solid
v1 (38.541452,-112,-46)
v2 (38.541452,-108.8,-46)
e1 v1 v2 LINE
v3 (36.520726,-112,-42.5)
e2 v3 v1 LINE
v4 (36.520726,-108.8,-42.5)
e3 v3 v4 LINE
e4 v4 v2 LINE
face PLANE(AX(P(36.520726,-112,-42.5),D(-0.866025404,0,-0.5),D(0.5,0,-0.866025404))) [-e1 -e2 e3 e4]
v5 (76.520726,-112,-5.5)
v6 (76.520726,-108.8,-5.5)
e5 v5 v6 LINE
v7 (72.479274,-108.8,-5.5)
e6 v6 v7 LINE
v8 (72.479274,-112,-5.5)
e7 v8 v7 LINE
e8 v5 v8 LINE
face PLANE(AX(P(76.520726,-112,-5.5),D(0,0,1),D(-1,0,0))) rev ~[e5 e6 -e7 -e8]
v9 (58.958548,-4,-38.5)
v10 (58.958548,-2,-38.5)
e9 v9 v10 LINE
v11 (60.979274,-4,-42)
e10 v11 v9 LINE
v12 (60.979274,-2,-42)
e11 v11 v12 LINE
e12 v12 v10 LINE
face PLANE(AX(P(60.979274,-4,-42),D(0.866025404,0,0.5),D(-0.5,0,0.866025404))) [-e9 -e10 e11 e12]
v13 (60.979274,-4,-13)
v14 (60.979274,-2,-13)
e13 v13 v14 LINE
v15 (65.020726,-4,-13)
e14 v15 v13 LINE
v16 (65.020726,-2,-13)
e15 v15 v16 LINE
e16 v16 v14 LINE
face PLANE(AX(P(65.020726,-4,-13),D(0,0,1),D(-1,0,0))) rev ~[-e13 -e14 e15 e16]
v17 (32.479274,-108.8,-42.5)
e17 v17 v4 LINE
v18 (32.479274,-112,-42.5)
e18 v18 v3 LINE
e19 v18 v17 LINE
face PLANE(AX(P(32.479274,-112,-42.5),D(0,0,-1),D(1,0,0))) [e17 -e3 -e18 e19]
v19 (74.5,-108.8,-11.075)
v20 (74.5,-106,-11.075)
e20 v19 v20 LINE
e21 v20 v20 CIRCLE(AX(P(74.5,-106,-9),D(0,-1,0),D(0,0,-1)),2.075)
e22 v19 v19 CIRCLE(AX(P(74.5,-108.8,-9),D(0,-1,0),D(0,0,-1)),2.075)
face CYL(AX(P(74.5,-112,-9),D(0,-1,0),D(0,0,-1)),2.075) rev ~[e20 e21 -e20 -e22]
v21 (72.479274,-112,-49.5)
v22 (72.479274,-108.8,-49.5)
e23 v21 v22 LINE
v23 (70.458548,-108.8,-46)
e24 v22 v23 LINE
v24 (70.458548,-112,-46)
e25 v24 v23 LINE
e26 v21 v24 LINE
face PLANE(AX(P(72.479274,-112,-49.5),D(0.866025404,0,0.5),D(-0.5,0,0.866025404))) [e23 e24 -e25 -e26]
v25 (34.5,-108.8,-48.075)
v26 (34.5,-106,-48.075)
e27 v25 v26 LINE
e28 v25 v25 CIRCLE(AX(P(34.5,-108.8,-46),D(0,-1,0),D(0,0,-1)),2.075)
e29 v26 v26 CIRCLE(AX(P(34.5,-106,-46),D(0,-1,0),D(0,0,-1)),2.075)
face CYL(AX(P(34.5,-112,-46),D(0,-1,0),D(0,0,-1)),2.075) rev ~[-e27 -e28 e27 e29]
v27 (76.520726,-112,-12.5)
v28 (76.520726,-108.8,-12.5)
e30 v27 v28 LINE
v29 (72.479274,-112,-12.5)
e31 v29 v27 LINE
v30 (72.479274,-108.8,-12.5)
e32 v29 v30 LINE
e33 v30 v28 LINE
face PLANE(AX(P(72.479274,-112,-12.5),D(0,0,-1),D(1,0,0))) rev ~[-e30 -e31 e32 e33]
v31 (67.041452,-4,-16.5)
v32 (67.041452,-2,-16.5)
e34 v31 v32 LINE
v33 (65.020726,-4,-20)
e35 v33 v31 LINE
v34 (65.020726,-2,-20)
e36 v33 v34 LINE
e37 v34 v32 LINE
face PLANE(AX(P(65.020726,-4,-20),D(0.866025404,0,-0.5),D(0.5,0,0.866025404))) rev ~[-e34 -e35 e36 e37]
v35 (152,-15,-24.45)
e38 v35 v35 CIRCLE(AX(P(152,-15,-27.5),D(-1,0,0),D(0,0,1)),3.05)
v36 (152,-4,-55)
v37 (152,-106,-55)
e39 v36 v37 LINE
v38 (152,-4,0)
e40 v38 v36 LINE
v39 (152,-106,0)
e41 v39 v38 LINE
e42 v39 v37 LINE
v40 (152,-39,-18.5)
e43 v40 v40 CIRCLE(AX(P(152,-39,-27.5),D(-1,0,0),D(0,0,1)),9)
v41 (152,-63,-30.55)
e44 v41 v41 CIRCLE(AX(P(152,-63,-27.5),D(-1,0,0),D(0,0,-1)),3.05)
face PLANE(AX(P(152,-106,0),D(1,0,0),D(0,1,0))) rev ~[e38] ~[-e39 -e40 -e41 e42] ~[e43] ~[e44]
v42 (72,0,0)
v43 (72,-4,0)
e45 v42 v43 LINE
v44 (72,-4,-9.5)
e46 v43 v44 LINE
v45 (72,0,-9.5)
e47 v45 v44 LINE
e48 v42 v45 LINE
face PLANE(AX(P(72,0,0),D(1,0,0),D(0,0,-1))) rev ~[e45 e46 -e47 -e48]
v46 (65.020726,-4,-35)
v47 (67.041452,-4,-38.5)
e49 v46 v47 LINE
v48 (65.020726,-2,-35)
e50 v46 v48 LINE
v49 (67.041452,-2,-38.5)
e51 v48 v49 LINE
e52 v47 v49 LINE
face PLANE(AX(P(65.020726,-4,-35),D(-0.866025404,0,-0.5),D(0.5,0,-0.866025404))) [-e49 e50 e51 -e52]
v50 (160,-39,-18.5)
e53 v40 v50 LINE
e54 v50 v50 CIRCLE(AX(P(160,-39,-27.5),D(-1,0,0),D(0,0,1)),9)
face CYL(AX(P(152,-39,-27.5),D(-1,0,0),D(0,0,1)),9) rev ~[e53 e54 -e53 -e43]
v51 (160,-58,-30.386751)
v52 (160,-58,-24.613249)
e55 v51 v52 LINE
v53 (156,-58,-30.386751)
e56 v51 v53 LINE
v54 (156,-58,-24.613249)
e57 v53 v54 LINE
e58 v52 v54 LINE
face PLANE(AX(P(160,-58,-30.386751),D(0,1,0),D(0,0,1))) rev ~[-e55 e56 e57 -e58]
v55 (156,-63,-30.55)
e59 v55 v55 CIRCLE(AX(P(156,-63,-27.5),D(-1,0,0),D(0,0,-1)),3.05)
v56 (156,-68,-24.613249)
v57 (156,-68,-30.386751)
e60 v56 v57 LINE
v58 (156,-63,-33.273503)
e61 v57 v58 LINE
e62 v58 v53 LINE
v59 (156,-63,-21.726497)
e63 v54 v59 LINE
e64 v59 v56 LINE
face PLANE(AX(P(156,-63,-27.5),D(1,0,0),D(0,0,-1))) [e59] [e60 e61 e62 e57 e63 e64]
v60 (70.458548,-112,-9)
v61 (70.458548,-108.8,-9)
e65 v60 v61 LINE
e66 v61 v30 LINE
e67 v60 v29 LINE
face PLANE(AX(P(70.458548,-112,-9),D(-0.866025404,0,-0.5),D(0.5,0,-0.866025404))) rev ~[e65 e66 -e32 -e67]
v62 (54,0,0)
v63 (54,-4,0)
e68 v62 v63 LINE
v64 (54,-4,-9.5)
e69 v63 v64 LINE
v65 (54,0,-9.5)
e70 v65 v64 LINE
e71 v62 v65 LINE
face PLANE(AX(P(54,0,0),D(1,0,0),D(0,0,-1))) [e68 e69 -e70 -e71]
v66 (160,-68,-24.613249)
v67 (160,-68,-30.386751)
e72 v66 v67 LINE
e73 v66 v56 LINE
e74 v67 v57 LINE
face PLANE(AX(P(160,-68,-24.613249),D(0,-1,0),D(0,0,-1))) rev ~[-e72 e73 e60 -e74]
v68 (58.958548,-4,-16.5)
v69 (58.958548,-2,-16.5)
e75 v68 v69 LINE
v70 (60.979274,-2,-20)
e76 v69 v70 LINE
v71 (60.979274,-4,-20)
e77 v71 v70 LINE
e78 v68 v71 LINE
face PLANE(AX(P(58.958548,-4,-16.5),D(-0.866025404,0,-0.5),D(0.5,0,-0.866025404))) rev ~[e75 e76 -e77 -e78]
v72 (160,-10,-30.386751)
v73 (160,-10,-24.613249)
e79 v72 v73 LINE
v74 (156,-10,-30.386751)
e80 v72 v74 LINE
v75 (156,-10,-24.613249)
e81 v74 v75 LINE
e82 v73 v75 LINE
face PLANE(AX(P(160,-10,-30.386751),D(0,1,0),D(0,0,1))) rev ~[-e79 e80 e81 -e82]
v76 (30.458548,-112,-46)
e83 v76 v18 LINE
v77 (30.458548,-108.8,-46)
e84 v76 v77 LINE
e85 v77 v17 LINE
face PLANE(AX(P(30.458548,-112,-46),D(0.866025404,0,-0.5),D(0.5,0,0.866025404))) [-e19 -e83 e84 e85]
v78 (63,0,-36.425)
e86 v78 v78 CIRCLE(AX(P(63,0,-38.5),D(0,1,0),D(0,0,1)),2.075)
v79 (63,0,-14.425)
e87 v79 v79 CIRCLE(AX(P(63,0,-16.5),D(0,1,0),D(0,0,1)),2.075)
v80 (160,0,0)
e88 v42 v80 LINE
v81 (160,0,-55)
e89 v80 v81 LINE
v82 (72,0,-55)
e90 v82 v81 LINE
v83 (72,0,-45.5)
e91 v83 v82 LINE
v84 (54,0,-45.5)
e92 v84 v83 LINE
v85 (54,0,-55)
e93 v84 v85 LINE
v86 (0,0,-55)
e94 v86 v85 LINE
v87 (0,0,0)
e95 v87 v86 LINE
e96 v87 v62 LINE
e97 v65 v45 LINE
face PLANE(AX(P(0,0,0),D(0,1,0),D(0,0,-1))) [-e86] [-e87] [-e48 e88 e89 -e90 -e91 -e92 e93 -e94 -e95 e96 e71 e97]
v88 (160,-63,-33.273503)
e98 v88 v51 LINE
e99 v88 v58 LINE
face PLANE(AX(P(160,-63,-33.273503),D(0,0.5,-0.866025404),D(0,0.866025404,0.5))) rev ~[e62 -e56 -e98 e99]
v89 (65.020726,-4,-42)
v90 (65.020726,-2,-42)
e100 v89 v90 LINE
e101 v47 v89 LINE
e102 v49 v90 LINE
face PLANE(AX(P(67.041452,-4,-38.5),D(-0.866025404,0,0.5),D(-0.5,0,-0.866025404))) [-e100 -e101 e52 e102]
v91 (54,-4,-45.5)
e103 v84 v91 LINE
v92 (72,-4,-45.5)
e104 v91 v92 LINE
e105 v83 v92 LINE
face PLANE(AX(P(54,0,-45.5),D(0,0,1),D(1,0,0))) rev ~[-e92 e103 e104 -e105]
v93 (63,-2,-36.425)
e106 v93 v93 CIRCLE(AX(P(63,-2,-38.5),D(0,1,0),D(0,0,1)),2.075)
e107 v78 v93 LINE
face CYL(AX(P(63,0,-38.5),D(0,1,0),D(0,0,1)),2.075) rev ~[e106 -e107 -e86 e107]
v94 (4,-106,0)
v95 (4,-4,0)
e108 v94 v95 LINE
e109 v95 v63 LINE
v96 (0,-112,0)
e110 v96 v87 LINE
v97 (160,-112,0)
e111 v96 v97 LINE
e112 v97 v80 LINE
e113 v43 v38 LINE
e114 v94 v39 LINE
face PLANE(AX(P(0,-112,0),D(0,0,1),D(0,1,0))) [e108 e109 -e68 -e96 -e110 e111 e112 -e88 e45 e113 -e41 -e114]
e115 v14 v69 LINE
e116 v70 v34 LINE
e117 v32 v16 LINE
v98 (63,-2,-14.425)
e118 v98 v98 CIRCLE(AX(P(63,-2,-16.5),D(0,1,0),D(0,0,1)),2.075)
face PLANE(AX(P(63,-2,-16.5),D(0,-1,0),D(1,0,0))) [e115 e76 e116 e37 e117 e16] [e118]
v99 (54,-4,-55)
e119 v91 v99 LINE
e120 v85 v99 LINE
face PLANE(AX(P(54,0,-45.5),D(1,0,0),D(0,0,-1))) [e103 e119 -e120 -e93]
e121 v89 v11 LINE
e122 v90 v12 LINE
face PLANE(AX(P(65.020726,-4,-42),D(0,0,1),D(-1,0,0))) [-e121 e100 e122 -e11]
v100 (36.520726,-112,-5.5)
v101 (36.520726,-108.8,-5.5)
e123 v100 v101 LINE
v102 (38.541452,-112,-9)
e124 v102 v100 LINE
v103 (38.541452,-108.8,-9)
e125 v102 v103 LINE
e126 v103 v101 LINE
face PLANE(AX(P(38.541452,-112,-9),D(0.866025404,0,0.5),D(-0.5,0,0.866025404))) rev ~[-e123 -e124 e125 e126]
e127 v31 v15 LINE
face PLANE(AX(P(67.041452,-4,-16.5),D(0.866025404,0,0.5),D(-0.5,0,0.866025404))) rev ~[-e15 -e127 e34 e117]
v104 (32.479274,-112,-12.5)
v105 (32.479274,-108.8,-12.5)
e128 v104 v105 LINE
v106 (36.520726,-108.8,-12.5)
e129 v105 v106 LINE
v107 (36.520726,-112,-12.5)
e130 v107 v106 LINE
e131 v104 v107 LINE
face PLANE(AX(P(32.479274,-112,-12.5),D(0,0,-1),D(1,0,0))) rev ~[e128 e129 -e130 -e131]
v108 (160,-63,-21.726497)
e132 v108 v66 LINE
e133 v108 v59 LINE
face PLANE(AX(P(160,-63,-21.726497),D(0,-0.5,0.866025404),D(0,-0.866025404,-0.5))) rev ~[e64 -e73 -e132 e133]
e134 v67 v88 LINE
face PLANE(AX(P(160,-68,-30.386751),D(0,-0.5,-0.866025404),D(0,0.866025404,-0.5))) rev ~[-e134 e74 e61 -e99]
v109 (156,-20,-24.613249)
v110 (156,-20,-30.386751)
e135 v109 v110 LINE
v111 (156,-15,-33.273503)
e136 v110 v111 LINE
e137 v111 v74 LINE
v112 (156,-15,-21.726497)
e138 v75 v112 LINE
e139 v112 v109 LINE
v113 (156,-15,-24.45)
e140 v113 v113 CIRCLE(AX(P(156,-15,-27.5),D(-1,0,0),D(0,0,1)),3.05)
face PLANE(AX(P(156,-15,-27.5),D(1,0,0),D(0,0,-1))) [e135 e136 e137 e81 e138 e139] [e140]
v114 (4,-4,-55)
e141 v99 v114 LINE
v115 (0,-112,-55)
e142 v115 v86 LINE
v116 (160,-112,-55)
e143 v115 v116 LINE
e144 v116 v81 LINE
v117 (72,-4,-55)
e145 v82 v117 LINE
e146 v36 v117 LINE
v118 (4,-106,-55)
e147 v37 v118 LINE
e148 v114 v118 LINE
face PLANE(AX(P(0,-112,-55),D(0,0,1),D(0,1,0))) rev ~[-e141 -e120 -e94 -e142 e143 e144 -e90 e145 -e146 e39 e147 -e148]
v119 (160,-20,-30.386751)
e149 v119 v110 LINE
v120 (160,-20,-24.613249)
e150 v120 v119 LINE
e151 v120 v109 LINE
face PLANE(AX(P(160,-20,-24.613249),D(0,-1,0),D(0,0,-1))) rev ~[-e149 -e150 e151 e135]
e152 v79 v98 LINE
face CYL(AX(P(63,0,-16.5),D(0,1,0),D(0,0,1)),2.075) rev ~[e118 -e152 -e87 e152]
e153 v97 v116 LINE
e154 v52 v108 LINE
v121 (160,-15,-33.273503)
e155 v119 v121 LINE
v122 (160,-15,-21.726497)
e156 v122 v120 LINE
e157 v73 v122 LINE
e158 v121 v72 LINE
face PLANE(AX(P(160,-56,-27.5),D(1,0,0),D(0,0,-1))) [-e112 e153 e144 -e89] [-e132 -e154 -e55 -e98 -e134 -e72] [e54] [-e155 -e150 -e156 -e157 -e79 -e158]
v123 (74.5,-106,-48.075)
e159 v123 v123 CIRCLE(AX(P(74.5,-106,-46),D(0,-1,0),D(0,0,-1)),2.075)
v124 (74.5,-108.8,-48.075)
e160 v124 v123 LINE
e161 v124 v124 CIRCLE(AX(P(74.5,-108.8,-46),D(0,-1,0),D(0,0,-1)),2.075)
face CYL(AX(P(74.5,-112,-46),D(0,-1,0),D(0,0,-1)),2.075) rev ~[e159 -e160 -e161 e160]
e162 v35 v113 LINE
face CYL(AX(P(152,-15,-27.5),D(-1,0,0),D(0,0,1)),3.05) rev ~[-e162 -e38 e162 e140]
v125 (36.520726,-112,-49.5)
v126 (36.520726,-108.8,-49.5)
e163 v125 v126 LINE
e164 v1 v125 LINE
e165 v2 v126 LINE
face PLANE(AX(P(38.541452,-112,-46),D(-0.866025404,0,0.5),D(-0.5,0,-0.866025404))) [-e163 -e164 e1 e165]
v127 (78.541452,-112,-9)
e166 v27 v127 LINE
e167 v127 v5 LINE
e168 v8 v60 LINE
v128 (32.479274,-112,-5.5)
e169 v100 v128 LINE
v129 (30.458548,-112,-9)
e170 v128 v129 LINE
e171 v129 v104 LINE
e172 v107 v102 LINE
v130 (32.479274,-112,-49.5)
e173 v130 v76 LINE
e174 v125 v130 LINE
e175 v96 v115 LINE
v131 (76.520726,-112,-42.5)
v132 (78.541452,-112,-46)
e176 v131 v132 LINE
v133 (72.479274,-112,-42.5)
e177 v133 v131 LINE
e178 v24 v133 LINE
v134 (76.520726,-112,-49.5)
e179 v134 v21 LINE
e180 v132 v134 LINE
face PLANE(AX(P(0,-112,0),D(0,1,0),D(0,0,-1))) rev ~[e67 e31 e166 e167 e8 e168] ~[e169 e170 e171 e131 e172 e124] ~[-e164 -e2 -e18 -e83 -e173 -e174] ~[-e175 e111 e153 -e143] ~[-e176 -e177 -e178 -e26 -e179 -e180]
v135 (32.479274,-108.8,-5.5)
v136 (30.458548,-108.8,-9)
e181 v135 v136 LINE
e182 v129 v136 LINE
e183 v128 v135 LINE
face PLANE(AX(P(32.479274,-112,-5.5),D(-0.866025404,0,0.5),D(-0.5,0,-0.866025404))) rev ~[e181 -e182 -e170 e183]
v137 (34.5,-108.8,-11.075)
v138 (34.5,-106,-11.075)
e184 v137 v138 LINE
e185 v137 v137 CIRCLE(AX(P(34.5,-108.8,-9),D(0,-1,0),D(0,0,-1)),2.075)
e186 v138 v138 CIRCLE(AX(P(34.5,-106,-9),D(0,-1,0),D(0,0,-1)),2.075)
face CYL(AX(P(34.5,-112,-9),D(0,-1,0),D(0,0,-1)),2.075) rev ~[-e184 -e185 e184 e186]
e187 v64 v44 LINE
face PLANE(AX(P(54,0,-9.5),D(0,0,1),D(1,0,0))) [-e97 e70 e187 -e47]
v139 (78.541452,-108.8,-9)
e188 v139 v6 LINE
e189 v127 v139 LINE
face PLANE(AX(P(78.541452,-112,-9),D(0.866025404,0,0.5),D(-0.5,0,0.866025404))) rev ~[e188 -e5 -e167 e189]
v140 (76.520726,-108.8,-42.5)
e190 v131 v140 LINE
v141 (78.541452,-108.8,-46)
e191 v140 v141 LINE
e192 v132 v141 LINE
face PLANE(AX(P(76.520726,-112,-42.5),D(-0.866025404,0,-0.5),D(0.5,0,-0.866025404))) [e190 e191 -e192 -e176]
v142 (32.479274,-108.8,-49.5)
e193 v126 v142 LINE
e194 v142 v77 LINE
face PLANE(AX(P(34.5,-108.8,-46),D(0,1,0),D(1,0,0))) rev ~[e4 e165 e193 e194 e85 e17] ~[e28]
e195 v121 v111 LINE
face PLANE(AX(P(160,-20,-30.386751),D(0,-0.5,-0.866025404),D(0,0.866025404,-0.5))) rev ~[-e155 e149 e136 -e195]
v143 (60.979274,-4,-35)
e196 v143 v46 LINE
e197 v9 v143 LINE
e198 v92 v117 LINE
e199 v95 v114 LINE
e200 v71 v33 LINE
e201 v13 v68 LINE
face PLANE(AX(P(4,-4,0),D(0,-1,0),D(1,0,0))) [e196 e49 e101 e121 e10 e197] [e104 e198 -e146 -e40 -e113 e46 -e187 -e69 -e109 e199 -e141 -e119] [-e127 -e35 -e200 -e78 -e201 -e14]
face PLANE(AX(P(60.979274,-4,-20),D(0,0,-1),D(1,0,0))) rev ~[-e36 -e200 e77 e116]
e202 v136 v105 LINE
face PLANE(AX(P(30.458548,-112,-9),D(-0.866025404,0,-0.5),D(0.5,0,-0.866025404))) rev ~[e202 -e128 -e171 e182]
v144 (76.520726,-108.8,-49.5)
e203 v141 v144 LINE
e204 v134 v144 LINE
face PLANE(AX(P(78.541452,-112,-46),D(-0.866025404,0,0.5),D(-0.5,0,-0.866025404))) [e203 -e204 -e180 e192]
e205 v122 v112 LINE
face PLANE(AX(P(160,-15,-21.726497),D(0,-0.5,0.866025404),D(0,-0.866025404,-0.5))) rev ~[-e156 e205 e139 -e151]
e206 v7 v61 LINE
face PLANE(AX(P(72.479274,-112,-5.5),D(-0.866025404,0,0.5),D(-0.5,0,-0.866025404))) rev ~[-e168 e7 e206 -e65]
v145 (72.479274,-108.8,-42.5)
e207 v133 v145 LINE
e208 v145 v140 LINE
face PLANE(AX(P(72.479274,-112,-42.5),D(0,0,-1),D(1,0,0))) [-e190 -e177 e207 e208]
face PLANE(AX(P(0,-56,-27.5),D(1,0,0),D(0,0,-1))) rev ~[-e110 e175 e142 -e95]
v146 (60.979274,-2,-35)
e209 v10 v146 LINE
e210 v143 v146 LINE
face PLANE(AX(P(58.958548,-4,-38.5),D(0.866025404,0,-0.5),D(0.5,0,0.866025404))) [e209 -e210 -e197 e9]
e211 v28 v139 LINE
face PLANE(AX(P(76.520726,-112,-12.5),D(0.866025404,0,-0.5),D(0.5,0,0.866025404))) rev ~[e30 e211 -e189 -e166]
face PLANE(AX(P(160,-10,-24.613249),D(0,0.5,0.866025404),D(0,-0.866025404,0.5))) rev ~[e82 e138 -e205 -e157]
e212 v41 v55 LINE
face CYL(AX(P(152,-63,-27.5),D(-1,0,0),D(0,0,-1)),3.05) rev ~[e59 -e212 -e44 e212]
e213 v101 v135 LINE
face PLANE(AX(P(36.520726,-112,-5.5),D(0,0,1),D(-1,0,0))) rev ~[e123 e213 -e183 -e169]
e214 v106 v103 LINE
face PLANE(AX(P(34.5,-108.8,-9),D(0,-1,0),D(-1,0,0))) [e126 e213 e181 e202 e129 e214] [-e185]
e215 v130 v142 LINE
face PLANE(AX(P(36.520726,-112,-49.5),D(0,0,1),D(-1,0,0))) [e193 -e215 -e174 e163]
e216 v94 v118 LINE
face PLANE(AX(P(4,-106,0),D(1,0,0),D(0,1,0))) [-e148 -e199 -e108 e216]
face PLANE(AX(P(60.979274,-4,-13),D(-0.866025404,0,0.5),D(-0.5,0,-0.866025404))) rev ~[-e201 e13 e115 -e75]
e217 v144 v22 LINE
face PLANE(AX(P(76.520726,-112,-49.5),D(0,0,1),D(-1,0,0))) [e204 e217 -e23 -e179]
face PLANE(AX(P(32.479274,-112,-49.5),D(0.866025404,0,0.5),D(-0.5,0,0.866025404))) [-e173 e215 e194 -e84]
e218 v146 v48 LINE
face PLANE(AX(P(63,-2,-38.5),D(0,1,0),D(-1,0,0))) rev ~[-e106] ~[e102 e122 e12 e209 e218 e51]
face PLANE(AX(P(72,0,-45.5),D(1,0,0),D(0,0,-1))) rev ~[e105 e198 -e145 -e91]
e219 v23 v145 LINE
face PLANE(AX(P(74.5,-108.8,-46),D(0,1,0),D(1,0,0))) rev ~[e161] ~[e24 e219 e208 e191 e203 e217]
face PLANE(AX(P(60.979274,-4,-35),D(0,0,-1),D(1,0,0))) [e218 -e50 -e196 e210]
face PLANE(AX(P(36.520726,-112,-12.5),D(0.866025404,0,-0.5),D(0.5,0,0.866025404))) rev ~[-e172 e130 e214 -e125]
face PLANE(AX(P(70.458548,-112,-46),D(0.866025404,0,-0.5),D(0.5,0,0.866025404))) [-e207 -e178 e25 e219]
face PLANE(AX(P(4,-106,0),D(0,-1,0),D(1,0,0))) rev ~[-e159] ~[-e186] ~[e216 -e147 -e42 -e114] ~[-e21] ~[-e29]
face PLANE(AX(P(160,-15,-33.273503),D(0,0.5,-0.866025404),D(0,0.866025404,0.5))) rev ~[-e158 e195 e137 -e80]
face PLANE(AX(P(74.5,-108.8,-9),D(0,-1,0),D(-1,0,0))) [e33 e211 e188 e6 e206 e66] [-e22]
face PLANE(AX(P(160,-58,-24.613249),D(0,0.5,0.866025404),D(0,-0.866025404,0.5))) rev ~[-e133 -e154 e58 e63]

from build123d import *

# Parameters (mm, degrees)
SKETCH1_W           = 55
SKETCH1_H           = 112
BOSS_EXTRUDE1_DEPTH = 160
CUT_EXTRUDE1_REACH  = 204.901
SKETCH2_W           = 148
SKETCH2_H           = 102
CUT_EXTRUDE2_REACH  = 198.655
SKETCH3_R           = 9
SKETCH3_R_2         = 3.05
CUT_EXTRUDE4_DEPTH  = 4
CUT_EXTRUDE11_REACH = 204.901
SKETCH15_R          = 2.075
CUT_EXTRUDE12_DEPTH = 3.2
CUT_EXTRUDE14_REACH = 204.901
SKETCH17_W          = 18
SKETCH17_H          = 9.5
CUT_EXTRUDE15_REACH = 204.901
SKETCH19_R          = 2.075
CUT_EXTRUDE16_DEPTH = 2


with BuildPart() as part:
    # Sketch1 → Boss-Extrude1 (new body)
    with BuildSketch(Plane(origin=(0, 0, 0), x_dir=(0, 0, -1), z_dir=(1, 0, 0))):
        with Locations((27.5, -56)):
            Rectangle(SKETCH1_W, SKETCH1_H)
    extrude(amount=BOSS_EXTRUDE1_DEPTH)

    # Sketch2 → Cut-Extrude1 (cut, up to next)
    with BuildSketch(Plane.XY, mode=Mode.PRIVATE) as cut_extrude1_sk1:
        with Locations((78, -55)):
            Rectangle(SKETCH2_W, SKETCH2_H)
    cut_extrude1_tool1 = extrude(cut_extrude1_sk1.sketch, amount=-CUT_EXTRUDE1_REACH, mode=Mode.PRIVATE) & part.part
    add(cut_extrude1_tool1.solids().sort_by_distance((78, -55, 0))[0], mode=Mode.SUBTRACT)

    # Sketch3 → Cut-Extrude2 (cut, up to next)
    with BuildSketch(Plane.ZY.offset(-152), mode=Mode.PRIVATE) as cut_extrude2_sk1:
        with Locations((-27.5, -39)):
            Circle(SKETCH3_R)
    cut_extrude2_tool1 = extrude(cut_extrude2_sk1.sketch, amount=-CUT_EXTRUDE2_REACH, mode=Mode.PRIVATE) & part.part
    # Sketch3 → Cut-Extrude2 (cut, up to next)
    with BuildSketch(Plane.ZY.offset(-152), mode=Mode.PRIVATE) as cut_extrude2_sk2:
        with Locations((-27.5, -15)):
            Circle(SKETCH3_R_2)
    cut_extrude2_tool2 = extrude(cut_extrude2_sk2.sketch, amount=-CUT_EXTRUDE2_REACH, mode=Mode.PRIVATE) & part.part
    # Sketch3 → Cut-Extrude2 (cut, up to next)
    with BuildSketch(Plane.ZY.offset(-152), mode=Mode.PRIVATE) as cut_extrude2_sk3:
        with Locations(Location((-27.5, -63, 0), (0, 0, 180))):
            Circle(SKETCH3_R_2)
    cut_extrude2_tool3 = extrude(cut_extrude2_sk3.sketch, amount=-CUT_EXTRUDE2_REACH, mode=Mode.PRIVATE) & part.part
    add(cut_extrude2_tool1.solids().sort_by_distance((152, -39, -27.5))[0], mode=Mode.SUBTRACT)
    add(cut_extrude2_tool2.solids().sort_by_distance((152, -15, -27.5))[0], mode=Mode.SUBTRACT)
    add(cut_extrude2_tool3.solids().sort_by_distance((152, -63, -27.5))[0], mode=Mode.SUBTRACT)

    # Sketch6 → Cut-Extrude4 (cut)
    with BuildSketch(Plane(origin=(160, 0, 0), x_dir=(0, 0, -1), z_dir=(1, 0, 0))):
        Polygon((30.386751346, -20), (33.273502692, -15), (30.386751346, -10), (24.613248654, -10), (21.726497308, -15), (24.613248654, -20), align=None)
        Polygon((30.386751346, -68), (33.273502692, -63), (30.386751346, -58), (24.613248654, -58), (21.726497308, -63), (24.613248654, -68), align=None)
    extrude(amount=-CUT_EXTRUDE4_DEPTH, mode=Mode.SUBTRACT)

    # Sketch15 → Cut-Extrude11 (cut, up to next)
    with BuildSketch(Plane(origin=(0, -112, 0), x_dir=(-1, 0, 0), z_dir=(0, -1, 0)), mode=Mode.PRIVATE) as cut_extrude11_sk1:
        with Locations(Location((-34.5, 9, 0), (0, 0, 90))):
            Circle(SKETCH15_R)
    cut_extrude11_tool1 = extrude(cut_extrude11_sk1.sketch, amount=-CUT_EXTRUDE11_REACH, mode=Mode.PRIVATE) & part.part
    # Sketch15 → Cut-Extrude11 (cut, up to next)
    with BuildSketch(Plane(origin=(0, -112, 0), x_dir=(-1, 0, 0), z_dir=(0, -1, 0)), mode=Mode.PRIVATE) as cut_extrude11_sk2:
        with Locations(Location((-74.5, 9, 0), (0, 0, 90))):
            Circle(SKETCH15_R)
    cut_extrude11_tool2 = extrude(cut_extrude11_sk2.sketch, amount=-CUT_EXTRUDE11_REACH, mode=Mode.PRIVATE) & part.part
    # Sketch15 → Cut-Extrude11 (cut, up to next)
    with BuildSketch(Plane(origin=(0, -112, 0), x_dir=(-1, 0, 0), z_dir=(0, -1, 0)), mode=Mode.PRIVATE) as cut_extrude11_sk3:
        with Locations(Location((-74.5, 46, 0), (0, 0, 90))):
            Circle(SKETCH15_R)
    cut_extrude11_tool3 = extrude(cut_extrude11_sk3.sketch, amount=-CUT_EXTRUDE11_REACH, mode=Mode.PRIVATE) & part.part
    # Sketch15 → Cut-Extrude11 (cut, up to next)
    with BuildSketch(Plane(origin=(0, -112, 0), x_dir=(-1, 0, 0), z_dir=(0, -1, 0)), mode=Mode.PRIVATE) as cut_extrude11_sk4:
        with Locations(Location((-34.5, 46, 0), (0, 0, 90))):
            Circle(SKETCH15_R)
    cut_extrude11_tool4 = extrude(cut_extrude11_sk4.sketch, amount=-CUT_EXTRUDE11_REACH, mode=Mode.PRIVATE) & part.part
    add(cut_extrude11_tool1.solids().sort_by_distance((34.5, -112, -9))[0], mode=Mode.SUBTRACT)
    add(cut_extrude11_tool2.solids().sort_by_distance((74.5, -112, -9))[0], mode=Mode.SUBTRACT)
    add(cut_extrude11_tool3.solids().sort_by_distance((74.5, -112, -46))[0], mode=Mode.SUBTRACT)
    add(cut_extrude11_tool4.solids().sort_by_distance((34.5, -112, -46))[0], mode=Mode.SUBTRACT)

    # Sketch16 → Cut-Extrude12 (cut)
    with BuildSketch(Plane(origin=(0, -112, 0), x_dir=(-1, 0, 0), z_dir=(0, -1, 0))):
        Polygon((-38.541451884, 9), (-36.520725942, 5.5), (-32.479274058, 5.5), (-30.458548116, 9), (-32.479274058, 12.5), (-36.520725942, 12.5), align=None)
        Polygon((-76.520725942, 12.5), (-78.541451884, 9), (-76.520725942, 5.5), (-72.479274058, 5.5), (-70.458548116, 9), (-72.479274058, 12.5), align=None)
        Polygon((-72.479274058, 42.5), (-76.520725942, 42.5), (-78.541451884, 46), (-76.520725942, 49.5), (-72.479274058, 49.5), (-70.458548116, 46), align=None)
        Polygon((-36.520725942, 42.5), (-38.541451884, 46), (-36.520725942, 49.5), (-32.479274058, 49.5), (-30.458548116, 46), (-32.479274058, 42.5), align=None)
    extrude(amount=-CUT_EXTRUDE12_DEPTH, mode=Mode.SUBTRACT)

    # Sketch17 → Cut-Extrude14 (cut, up to next)
    with BuildSketch(Plane(origin=(0, 0, 0), x_dir=(1, 0, 0), z_dir=(0, 1, 0)), mode=Mode.PRIVATE) as cut_extrude14_sk1:
        with Locations((63, 50.25)):
            Rectangle(SKETCH17_W, SKETCH17_H)
    cut_extrude14_tool1 = extrude(cut_extrude14_sk1.sketch, amount=-CUT_EXTRUDE14_REACH, mode=Mode.PRIVATE) & part.part
    # Sketch17 → Cut-Extrude14 (cut, up to next)
    with BuildSketch(Plane(origin=(0, 0, 0), x_dir=(1, 0, 0), z_dir=(0, 1, 0)), mode=Mode.PRIVATE) as cut_extrude14_sk2:
        with Locations((63, 4.75)):
            Rectangle(SKETCH17_W, SKETCH17_H)
    cut_extrude14_tool2 = extrude(cut_extrude14_sk2.sketch, amount=-CUT_EXTRUDE14_REACH, mode=Mode.PRIVATE) & part.part
    add(cut_extrude14_tool1.solids().sort_by_distance((63, 0, -50.25))[0], mode=Mode.SUBTRACT)
    add(cut_extrude14_tool2.solids().sort_by_distance((63, 0, -4.75))[0], mode=Mode.SUBTRACT)

    # Sketch19 → Cut-Extrude15 (cut, up to next)
    with BuildSketch(Plane(origin=(0, 0, 0), x_dir=(1, 0, 0), z_dir=(0, 1, 0)), mode=Mode.PRIVATE) as cut_extrude15_sk1:
        with Locations(Location((63, 38.5, 0), (0, 0, 270))):
            Circle(SKETCH19_R)
    cut_extrude15_tool1 = extrude(cut_extrude15_sk1.sketch, amount=-CUT_EXTRUDE15_REACH, mode=Mode.PRIVATE) & part.part
    # Sketch19 → Cut-Extrude15 (cut, up to next)
    with BuildSketch(Plane(origin=(0, 0, 0), x_dir=(1, 0, 0), z_dir=(0, 1, 0)), mode=Mode.PRIVATE) as cut_extrude15_sk2:
        with Locations(Location((63, 16.5, 0), (0, 0, 270))):
            Circle(SKETCH19_R)
    cut_extrude15_tool2 = extrude(cut_extrude15_sk2.sketch, amount=-CUT_EXTRUDE15_REACH, mode=Mode.PRIVATE) & part.part
    add(cut_extrude15_tool1.solids().sort_by_distance((63, 0, -38.5))[0], mode=Mode.SUBTRACT)
    add(cut_extrude15_tool2.solids().sort_by_distance((63, 0, -16.5))[0], mode=Mode.SUBTRACT)

    # Sketch20 → Cut-Extrude16 (cut)
    with BuildSketch(Plane.XZ.offset(4)):
        Polygon((67.041451884, -16.5), (65.020725942, -13), (60.979274058, -13), (58.958548116, -16.5), (60.979274058, -20), (65.020725942, -20), align=None)
        Polygon((65.020725942, -35), (67.041451884, -38.5), (65.020725942, -42), (60.979274058, -42), (58.958548116, -38.5), (60.979274058, -35), align=None)
    extrude(amount=-CUT_EXTRUDE16_DEPTH, mode=Mode.SUBTRACT)


solid = part.part
